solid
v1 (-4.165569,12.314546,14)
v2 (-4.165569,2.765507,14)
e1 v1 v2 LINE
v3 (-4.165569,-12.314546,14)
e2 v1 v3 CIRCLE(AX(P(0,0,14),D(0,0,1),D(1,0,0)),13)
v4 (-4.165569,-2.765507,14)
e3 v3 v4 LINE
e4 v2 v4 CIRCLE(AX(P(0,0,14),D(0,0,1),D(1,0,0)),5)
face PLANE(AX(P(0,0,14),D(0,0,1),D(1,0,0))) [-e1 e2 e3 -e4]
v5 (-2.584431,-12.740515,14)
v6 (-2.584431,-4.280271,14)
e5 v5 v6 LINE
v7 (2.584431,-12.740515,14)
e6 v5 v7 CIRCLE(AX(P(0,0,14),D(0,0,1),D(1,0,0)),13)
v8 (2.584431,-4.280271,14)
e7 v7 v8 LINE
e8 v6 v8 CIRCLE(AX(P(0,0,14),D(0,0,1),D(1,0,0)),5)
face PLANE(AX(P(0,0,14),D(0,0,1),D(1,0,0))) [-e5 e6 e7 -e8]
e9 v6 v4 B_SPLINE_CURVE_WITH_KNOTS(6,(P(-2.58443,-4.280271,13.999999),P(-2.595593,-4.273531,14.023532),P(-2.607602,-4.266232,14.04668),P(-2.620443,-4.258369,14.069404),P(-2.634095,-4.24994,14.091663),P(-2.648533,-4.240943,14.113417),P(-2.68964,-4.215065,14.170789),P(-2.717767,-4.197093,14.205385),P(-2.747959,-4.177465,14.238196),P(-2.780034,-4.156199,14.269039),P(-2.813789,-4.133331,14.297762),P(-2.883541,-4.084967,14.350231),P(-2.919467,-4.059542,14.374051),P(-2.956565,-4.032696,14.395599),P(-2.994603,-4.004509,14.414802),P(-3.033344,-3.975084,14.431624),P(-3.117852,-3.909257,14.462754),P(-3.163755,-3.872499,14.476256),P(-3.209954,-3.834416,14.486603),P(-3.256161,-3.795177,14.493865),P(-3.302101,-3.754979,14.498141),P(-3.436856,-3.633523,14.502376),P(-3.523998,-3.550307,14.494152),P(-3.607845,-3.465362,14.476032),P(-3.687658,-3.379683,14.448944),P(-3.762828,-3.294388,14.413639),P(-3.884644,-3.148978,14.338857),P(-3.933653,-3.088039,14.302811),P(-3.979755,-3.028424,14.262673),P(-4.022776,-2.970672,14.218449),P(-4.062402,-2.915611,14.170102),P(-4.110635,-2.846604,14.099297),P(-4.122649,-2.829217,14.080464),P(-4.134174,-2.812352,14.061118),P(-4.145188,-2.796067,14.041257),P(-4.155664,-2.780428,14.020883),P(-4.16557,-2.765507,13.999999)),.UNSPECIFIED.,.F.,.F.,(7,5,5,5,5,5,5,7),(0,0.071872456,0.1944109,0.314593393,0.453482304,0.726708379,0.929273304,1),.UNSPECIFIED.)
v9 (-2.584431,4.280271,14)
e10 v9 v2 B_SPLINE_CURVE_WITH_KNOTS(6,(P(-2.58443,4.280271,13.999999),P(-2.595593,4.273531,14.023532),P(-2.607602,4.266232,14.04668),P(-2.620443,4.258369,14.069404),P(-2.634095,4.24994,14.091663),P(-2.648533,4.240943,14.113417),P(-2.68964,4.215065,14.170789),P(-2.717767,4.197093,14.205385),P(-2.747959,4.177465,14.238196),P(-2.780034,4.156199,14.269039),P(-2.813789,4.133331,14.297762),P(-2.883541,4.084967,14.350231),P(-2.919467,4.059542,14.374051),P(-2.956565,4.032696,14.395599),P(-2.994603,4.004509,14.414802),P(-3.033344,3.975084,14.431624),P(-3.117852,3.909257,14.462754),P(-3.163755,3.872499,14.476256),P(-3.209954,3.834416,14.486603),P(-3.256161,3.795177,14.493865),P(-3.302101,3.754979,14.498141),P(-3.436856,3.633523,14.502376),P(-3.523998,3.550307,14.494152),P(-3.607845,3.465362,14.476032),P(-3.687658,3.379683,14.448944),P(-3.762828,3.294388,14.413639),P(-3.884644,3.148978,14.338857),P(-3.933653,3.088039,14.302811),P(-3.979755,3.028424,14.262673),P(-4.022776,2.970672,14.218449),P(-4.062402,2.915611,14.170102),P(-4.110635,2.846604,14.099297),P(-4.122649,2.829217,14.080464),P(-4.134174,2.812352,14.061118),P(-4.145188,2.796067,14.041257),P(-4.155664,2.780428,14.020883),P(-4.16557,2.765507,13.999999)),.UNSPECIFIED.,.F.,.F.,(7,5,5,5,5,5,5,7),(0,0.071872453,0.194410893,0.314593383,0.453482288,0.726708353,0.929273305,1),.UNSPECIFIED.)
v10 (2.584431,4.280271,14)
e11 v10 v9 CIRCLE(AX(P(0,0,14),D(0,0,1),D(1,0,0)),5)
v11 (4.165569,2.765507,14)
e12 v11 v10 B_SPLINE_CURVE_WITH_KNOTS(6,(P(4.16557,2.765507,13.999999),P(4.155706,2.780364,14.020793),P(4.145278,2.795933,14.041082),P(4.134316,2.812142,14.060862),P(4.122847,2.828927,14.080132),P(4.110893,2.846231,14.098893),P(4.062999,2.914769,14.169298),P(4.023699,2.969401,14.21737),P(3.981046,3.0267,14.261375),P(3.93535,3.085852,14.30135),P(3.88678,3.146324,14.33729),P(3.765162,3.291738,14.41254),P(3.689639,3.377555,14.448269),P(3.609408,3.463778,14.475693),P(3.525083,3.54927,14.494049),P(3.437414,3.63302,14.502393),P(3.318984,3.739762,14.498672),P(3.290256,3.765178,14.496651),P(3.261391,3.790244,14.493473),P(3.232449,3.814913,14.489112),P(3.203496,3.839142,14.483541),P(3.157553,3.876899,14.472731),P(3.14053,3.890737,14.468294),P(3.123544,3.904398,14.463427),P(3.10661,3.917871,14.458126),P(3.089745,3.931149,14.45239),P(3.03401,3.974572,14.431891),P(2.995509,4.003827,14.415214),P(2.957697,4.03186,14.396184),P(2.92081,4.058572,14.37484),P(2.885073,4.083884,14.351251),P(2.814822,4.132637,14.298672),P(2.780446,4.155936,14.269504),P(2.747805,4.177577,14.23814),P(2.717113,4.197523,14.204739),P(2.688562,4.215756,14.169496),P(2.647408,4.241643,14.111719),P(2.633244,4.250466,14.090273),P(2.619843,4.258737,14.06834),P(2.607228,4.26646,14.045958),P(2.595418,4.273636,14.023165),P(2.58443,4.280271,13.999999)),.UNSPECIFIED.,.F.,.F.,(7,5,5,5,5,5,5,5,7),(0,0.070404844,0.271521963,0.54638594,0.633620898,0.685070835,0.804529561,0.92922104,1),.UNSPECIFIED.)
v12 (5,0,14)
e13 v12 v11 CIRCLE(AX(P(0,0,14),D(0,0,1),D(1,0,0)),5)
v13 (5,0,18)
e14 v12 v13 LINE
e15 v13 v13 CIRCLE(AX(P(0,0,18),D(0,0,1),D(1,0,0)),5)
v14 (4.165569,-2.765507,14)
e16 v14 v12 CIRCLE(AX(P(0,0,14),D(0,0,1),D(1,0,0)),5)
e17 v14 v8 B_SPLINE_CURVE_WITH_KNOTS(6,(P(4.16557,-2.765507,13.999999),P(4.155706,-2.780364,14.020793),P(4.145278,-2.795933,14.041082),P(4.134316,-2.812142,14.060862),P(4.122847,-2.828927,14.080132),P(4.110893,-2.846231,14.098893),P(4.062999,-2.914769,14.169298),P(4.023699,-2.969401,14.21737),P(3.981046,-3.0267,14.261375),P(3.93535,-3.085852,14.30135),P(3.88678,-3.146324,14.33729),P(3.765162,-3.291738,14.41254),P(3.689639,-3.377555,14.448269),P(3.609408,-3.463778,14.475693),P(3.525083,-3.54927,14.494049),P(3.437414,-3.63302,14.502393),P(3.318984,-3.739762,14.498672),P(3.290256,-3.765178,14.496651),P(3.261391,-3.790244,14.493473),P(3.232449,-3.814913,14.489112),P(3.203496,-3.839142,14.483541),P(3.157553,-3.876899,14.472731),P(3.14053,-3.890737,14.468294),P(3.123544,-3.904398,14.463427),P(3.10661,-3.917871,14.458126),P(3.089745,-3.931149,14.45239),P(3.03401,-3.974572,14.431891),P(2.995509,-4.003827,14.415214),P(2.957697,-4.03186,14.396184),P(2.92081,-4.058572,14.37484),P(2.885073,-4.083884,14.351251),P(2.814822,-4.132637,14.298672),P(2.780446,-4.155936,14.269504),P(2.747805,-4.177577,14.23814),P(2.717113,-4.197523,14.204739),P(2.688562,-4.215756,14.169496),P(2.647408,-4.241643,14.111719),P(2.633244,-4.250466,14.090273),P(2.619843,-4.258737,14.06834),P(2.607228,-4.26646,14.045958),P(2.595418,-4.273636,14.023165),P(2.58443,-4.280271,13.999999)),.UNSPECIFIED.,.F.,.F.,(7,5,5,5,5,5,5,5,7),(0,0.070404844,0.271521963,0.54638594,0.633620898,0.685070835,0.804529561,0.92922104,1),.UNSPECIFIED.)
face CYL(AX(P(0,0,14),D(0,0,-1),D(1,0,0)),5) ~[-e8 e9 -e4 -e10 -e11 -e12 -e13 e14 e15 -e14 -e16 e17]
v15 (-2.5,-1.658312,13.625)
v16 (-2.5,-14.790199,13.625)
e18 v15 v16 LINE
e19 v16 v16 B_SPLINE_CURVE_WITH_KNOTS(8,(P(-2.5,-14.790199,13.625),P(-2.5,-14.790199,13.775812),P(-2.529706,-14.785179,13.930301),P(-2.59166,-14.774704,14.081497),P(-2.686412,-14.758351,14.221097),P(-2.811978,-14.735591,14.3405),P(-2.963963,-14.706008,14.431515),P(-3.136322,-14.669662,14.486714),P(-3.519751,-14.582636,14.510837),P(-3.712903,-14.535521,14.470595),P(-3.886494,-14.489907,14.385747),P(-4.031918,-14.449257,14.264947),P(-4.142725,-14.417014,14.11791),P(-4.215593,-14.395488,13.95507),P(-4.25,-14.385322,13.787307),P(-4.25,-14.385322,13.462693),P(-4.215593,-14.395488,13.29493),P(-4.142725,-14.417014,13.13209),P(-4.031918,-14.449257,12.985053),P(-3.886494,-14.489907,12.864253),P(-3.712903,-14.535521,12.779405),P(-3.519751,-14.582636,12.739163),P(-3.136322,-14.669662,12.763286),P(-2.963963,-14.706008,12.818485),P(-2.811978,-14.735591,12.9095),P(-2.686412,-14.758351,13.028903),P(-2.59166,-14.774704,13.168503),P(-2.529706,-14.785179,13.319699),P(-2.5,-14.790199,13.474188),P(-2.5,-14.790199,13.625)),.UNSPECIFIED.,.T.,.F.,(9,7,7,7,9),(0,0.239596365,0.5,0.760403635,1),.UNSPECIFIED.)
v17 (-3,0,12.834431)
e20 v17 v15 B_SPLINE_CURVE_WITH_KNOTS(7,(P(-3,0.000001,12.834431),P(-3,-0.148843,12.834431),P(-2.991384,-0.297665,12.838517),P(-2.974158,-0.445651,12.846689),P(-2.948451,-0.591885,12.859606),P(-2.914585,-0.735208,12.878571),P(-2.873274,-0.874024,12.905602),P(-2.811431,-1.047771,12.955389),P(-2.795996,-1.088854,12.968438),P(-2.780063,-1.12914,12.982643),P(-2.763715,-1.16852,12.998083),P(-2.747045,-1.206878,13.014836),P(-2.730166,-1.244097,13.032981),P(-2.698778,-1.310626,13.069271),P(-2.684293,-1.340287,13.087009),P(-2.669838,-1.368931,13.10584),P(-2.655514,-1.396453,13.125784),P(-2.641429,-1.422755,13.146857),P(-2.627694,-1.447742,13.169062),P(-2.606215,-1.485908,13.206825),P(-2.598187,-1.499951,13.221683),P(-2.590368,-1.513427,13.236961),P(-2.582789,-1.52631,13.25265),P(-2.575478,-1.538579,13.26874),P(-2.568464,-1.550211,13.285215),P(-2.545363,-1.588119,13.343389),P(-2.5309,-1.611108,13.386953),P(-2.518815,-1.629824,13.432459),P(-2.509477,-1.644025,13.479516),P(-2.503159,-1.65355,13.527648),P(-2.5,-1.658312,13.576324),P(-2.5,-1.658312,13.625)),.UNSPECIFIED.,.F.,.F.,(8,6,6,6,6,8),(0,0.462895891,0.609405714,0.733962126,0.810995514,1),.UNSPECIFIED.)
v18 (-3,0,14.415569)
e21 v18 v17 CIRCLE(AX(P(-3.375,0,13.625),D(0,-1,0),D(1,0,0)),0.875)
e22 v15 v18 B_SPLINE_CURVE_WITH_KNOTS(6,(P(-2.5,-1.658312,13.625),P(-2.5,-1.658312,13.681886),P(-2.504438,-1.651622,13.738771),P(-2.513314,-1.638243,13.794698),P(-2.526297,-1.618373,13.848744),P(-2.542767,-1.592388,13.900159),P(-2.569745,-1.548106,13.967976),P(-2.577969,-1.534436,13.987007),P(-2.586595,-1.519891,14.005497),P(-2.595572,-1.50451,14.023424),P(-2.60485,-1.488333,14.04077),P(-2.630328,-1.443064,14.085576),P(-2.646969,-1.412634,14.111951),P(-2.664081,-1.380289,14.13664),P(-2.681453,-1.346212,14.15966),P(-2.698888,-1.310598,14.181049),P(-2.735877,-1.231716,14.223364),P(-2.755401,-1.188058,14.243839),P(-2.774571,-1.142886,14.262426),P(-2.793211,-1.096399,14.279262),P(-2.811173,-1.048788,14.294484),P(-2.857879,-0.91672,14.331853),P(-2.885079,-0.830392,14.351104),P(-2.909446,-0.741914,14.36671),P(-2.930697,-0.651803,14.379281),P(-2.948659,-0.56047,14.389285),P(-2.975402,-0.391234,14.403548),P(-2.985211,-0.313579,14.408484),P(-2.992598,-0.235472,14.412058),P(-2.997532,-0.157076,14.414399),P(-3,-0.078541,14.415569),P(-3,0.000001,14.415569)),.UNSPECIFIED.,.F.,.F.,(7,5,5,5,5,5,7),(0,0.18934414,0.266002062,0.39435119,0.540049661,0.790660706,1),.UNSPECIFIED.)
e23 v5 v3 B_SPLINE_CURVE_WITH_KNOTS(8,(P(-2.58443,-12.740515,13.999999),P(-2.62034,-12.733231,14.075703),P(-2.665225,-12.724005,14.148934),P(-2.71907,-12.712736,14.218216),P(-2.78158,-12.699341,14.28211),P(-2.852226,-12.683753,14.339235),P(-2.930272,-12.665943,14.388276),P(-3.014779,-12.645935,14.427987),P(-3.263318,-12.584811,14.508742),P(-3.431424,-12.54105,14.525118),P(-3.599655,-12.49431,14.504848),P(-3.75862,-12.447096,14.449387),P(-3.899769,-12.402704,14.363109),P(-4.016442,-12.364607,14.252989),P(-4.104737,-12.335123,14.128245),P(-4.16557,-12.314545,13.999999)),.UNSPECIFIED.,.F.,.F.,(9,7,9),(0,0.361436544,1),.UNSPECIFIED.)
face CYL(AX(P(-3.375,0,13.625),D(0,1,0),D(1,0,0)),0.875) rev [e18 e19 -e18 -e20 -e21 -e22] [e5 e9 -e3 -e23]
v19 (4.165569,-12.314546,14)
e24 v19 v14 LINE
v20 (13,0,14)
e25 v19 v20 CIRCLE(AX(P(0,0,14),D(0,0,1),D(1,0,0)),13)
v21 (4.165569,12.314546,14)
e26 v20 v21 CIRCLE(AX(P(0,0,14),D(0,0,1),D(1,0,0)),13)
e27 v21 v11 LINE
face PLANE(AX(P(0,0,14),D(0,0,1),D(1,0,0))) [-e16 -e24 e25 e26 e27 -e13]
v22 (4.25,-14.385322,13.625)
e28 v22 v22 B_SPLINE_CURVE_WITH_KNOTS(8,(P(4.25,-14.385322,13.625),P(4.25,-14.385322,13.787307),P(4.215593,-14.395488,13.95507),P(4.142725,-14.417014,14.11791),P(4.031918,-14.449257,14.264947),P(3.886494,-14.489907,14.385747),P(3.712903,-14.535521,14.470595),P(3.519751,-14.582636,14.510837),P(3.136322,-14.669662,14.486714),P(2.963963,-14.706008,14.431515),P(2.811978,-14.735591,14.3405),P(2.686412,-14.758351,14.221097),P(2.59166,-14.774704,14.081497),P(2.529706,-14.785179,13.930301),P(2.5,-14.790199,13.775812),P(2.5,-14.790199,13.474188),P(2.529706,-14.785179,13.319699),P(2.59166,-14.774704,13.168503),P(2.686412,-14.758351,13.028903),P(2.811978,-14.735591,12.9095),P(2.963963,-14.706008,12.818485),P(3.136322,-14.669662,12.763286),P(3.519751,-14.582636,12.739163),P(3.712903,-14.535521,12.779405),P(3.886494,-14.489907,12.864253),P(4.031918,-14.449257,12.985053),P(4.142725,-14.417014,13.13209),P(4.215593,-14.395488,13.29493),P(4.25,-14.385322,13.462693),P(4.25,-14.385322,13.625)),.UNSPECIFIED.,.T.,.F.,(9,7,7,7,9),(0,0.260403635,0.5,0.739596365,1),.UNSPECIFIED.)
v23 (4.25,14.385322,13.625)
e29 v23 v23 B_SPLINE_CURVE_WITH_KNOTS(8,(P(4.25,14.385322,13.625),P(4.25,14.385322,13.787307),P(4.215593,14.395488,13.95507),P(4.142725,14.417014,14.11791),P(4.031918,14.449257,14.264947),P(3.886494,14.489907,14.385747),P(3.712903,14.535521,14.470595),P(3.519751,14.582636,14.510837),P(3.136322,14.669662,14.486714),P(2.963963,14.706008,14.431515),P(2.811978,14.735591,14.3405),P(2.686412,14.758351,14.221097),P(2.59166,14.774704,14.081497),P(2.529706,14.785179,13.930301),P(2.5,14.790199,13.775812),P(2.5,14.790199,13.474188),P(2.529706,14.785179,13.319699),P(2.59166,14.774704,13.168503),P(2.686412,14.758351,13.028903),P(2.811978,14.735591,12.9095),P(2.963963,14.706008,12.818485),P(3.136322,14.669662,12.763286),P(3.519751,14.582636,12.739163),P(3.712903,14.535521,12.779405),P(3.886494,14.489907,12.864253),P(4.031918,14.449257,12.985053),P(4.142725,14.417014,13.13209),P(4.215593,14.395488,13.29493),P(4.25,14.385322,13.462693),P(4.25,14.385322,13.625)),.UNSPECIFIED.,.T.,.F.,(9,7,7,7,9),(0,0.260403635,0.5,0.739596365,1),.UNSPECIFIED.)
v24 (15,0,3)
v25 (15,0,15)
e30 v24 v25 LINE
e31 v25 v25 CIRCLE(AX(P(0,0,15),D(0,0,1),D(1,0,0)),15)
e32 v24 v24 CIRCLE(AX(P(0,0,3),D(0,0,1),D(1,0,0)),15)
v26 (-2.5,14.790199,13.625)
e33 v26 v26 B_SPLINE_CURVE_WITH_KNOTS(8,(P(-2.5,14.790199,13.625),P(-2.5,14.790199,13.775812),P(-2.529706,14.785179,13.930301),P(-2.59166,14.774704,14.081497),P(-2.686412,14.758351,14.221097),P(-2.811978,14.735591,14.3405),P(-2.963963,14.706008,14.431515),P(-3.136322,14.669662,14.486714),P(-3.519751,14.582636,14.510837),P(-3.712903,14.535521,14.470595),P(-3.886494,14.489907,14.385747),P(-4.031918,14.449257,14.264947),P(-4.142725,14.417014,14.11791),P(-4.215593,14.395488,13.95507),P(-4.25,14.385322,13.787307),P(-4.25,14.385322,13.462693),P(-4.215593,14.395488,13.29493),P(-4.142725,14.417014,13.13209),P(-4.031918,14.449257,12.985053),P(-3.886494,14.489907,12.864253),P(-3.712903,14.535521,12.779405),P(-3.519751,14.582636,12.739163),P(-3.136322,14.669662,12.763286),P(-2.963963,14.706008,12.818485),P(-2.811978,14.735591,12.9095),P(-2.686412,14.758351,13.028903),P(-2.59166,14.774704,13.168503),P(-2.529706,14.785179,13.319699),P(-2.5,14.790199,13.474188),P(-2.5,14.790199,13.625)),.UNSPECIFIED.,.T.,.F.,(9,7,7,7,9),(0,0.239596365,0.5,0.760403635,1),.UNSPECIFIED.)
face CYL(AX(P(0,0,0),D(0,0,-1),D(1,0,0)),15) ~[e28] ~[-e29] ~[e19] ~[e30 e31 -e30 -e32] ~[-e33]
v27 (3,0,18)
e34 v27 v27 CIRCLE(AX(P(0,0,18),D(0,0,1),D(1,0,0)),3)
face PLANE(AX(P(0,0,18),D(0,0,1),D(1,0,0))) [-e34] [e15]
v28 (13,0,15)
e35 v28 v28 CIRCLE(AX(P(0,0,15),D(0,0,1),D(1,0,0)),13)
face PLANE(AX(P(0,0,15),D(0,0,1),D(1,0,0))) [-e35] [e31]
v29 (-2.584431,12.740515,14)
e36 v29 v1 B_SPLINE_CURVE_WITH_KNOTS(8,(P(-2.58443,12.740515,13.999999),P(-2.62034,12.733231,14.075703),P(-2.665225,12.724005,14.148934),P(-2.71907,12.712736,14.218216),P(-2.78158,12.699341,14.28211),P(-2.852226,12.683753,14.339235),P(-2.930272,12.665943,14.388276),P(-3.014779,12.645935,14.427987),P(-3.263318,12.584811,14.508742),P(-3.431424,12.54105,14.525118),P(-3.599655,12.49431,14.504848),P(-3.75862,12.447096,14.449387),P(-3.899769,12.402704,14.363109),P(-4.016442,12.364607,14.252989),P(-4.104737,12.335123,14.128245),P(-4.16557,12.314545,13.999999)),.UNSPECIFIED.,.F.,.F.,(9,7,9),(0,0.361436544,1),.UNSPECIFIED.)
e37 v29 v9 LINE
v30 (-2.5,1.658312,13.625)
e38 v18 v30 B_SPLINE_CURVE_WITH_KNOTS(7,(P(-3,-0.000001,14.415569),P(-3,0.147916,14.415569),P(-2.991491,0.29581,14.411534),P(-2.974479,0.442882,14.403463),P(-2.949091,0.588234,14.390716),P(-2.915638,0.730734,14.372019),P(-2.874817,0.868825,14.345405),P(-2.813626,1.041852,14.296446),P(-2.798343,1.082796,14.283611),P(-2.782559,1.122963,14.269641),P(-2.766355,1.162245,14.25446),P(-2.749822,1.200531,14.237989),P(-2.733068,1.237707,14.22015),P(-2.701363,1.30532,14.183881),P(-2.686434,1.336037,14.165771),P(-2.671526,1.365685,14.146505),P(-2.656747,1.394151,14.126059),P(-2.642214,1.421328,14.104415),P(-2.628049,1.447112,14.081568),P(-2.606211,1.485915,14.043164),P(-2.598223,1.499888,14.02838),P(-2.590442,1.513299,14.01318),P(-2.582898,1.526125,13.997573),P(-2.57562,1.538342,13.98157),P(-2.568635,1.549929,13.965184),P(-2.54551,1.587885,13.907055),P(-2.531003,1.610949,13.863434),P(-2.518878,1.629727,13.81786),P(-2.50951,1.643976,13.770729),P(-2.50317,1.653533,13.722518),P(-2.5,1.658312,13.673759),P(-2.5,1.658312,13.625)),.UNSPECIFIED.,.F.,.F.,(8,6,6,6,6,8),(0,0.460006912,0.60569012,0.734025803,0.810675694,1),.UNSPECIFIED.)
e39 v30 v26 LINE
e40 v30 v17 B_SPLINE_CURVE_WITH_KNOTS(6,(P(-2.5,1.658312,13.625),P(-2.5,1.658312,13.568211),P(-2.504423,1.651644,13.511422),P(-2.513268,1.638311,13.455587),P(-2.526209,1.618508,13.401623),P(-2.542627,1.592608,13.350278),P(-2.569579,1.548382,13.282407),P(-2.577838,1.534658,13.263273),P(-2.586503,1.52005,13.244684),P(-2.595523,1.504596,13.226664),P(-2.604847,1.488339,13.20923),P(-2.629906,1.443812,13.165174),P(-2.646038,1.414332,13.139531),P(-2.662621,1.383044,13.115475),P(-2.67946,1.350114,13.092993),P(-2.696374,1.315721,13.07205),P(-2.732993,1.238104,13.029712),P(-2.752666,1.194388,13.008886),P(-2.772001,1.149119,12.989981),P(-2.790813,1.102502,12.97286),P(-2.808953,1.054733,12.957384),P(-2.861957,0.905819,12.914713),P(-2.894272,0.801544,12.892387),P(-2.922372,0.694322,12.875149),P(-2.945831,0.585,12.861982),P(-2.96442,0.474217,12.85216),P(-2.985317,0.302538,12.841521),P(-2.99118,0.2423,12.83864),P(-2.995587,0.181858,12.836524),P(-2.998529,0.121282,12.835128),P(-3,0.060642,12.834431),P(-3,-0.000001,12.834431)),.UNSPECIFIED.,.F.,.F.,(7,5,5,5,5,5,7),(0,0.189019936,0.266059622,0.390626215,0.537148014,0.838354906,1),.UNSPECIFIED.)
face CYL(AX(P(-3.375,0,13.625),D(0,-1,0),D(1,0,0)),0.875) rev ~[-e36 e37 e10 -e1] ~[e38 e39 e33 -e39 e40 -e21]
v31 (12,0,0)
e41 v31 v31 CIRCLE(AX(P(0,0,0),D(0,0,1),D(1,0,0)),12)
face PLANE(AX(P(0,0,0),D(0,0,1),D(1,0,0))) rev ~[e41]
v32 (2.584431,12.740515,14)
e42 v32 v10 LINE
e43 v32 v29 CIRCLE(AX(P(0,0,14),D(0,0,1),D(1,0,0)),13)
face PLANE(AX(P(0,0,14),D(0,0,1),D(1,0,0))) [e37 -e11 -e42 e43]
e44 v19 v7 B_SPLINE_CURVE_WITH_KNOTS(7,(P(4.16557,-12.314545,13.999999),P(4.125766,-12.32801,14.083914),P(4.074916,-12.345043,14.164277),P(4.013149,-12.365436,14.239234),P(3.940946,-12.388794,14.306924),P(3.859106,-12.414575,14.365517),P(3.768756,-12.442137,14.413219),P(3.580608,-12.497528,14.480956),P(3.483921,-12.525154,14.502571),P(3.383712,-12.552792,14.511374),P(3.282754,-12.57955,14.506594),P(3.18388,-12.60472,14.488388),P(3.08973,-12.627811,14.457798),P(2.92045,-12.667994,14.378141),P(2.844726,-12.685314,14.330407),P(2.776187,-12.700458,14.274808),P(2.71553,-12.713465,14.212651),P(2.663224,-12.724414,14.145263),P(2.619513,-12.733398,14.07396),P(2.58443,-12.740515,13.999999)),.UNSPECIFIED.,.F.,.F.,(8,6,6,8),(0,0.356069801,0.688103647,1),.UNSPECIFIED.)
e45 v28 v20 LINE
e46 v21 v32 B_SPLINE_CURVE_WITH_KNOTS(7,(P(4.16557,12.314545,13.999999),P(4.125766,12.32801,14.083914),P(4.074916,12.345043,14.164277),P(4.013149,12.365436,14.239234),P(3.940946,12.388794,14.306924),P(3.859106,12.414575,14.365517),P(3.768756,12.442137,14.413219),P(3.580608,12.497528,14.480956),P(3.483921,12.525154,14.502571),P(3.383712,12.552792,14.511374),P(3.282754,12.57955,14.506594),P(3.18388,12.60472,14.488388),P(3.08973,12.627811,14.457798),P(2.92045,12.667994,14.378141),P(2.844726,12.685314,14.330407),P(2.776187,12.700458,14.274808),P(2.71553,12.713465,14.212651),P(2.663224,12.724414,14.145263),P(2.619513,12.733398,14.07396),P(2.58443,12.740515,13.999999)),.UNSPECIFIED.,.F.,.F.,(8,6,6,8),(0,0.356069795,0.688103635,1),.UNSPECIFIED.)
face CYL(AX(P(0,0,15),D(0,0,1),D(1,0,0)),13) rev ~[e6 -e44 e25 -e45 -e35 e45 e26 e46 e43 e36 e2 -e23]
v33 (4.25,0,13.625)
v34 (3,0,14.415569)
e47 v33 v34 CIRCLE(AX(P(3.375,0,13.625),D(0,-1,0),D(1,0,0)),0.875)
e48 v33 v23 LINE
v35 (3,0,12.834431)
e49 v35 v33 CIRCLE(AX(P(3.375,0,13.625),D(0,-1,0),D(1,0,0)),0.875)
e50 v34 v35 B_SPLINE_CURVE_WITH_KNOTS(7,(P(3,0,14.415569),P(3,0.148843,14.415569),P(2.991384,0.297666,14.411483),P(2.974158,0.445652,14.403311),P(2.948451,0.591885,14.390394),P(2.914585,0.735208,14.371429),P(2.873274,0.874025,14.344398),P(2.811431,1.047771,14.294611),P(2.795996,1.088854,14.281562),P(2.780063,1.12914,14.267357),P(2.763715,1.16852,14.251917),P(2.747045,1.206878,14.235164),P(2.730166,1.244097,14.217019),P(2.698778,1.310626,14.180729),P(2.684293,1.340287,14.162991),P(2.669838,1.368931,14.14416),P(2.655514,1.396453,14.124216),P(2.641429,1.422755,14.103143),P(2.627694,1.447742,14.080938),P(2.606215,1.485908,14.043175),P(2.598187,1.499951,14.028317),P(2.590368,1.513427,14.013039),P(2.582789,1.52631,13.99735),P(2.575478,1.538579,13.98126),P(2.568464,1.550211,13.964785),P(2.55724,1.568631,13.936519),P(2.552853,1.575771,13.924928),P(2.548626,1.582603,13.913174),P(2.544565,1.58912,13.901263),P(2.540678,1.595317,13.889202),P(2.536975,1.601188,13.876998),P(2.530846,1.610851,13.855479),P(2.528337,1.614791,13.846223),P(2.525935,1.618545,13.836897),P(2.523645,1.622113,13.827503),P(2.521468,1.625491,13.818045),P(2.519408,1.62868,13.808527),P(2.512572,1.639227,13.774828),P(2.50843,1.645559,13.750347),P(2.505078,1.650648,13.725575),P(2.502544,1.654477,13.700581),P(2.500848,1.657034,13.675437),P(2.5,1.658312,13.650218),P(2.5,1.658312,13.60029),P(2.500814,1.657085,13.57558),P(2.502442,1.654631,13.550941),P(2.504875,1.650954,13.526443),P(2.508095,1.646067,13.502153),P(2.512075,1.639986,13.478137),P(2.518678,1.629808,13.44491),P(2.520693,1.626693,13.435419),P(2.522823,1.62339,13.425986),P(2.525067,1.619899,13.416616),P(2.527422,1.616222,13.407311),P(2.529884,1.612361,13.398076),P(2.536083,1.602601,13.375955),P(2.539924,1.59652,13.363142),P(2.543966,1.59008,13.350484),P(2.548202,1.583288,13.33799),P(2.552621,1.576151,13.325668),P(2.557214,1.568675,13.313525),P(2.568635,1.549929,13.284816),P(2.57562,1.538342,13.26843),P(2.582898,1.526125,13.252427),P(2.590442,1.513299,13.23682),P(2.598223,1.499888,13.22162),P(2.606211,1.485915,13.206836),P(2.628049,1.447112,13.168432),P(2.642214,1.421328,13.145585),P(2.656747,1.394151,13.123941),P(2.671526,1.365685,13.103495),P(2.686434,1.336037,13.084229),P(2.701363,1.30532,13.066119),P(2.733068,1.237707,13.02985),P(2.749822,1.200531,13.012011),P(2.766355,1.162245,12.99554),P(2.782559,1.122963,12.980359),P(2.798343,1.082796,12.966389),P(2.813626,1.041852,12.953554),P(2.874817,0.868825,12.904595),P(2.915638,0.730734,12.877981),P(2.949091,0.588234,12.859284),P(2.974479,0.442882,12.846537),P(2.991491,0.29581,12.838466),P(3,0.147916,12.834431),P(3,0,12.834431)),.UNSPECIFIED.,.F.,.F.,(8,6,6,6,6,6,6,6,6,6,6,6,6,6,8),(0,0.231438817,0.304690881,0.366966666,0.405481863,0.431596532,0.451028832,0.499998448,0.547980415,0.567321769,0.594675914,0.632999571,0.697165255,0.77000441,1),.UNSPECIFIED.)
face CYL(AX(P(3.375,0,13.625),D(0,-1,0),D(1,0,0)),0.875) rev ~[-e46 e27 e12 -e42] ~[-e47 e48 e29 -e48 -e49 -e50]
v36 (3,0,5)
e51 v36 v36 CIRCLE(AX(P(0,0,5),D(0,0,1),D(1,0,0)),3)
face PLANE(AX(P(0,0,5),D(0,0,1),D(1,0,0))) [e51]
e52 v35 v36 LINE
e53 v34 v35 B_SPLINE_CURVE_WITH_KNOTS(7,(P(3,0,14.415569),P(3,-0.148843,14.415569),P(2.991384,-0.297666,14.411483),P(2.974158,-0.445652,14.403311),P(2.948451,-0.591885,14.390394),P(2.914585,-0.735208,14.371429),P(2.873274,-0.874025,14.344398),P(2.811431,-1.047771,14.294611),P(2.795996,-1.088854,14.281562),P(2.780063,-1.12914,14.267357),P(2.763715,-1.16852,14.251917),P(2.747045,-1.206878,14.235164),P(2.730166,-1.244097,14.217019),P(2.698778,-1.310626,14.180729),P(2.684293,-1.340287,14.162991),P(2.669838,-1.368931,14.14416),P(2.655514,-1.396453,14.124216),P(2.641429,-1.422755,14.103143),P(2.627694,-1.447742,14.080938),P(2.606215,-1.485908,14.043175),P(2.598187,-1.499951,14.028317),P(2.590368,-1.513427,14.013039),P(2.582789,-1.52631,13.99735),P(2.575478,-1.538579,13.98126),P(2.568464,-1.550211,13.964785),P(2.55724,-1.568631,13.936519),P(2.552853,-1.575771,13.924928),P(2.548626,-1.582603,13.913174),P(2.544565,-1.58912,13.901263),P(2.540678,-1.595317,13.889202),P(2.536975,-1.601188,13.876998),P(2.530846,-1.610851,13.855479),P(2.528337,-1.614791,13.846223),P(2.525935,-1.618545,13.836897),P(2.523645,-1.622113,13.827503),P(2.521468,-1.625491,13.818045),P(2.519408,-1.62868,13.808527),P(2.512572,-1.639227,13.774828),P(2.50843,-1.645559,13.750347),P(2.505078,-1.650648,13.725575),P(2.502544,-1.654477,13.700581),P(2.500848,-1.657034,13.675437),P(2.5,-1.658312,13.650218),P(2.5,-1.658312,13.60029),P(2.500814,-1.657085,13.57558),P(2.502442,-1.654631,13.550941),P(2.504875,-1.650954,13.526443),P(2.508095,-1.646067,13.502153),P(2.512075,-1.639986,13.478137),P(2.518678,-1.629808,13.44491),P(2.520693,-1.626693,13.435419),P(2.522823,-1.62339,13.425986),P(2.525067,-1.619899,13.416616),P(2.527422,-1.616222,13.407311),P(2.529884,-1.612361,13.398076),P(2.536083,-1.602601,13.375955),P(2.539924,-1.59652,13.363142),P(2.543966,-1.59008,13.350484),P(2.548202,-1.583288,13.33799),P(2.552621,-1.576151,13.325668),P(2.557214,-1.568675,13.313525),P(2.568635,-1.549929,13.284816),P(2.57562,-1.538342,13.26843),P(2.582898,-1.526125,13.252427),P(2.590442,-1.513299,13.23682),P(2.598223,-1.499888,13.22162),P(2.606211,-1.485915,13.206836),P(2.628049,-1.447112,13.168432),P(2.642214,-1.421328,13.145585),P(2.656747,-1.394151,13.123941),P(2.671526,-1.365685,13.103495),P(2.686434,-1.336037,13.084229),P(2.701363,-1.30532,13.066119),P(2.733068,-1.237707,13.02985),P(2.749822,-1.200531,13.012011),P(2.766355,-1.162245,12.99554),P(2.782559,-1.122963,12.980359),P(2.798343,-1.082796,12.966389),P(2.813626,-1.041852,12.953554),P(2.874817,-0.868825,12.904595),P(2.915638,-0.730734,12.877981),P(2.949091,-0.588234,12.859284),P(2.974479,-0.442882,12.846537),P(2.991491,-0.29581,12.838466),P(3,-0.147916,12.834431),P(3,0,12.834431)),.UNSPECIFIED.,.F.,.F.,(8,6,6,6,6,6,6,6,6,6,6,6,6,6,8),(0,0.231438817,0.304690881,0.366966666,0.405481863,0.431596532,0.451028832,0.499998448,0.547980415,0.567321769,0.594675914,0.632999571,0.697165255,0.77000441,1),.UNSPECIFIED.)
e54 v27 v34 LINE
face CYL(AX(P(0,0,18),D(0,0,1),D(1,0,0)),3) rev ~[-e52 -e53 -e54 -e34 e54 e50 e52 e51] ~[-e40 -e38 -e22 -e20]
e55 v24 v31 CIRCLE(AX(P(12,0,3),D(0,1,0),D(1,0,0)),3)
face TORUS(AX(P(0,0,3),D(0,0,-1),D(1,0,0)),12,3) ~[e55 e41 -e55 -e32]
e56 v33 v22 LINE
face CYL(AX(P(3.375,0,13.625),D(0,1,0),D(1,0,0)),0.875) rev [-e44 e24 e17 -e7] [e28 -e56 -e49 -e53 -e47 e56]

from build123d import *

# Parameters (mm, degrees)
F0_R           = 15
F1_DEPTH       = 15
F2_R           = 13
F3_DEPTH       = 1
F4_R           = 5
F5_DEPTH       = 4
F6_R           = 3
F7_DEPTH       = 13
F8_R           = 3
F9_R           = 0.875
F10_DEPTH      = 15.001
F10_DEPTH_BACK = 15.001


with BuildPart() as f1:
    # F0 (on Top) → F1 (new body)
    with BuildSketch(Plane.XY):
        Circle(F0_R)
    extrude(amount=F1_DEPTH)

    # F2 (on face) → F3 (cut)
    with BuildSketch(Plane.XY.offset(15)):
        Circle(F2_R)
    extrude(amount=-F3_DEPTH, mode=Mode.SUBTRACT)

    # F4 (on face) → F5 (join)
    with BuildSketch(Plane.XY.offset(14)):
        Circle(F4_R)
    extrude(amount=F5_DEPTH)

    # F6 (on face) → F7 (cut)
    with BuildSketch(Plane.XY.offset(18)):
        Circle(F6_R)
    extrude(amount=-F7_DEPTH, mode=Mode.SUBTRACT)

    # F8
    f8_edges = [f1.edges().sort_by_distance(p)[0] for p in [
        (-15, 0, 0),
    ]]
    fillet(f8_edges, radius=F8_R)

    # F9 (on Front) → F10 (cut, two sides)
    with BuildSketch(Plane.XZ) as f10_sk:
        with Locations((-3.375, 13.625)):
            Circle(F9_R)
        with Locations((3.375, 13.625)):
            Circle(F9_R)
    extrude(amount=-F10_DEPTH, mode=Mode.SUBTRACT)
    extrude(f10_sk.sketch, amount=F10_DEPTH_BACK, mode=Mode.SUBTRACT)


solid = f1.part
